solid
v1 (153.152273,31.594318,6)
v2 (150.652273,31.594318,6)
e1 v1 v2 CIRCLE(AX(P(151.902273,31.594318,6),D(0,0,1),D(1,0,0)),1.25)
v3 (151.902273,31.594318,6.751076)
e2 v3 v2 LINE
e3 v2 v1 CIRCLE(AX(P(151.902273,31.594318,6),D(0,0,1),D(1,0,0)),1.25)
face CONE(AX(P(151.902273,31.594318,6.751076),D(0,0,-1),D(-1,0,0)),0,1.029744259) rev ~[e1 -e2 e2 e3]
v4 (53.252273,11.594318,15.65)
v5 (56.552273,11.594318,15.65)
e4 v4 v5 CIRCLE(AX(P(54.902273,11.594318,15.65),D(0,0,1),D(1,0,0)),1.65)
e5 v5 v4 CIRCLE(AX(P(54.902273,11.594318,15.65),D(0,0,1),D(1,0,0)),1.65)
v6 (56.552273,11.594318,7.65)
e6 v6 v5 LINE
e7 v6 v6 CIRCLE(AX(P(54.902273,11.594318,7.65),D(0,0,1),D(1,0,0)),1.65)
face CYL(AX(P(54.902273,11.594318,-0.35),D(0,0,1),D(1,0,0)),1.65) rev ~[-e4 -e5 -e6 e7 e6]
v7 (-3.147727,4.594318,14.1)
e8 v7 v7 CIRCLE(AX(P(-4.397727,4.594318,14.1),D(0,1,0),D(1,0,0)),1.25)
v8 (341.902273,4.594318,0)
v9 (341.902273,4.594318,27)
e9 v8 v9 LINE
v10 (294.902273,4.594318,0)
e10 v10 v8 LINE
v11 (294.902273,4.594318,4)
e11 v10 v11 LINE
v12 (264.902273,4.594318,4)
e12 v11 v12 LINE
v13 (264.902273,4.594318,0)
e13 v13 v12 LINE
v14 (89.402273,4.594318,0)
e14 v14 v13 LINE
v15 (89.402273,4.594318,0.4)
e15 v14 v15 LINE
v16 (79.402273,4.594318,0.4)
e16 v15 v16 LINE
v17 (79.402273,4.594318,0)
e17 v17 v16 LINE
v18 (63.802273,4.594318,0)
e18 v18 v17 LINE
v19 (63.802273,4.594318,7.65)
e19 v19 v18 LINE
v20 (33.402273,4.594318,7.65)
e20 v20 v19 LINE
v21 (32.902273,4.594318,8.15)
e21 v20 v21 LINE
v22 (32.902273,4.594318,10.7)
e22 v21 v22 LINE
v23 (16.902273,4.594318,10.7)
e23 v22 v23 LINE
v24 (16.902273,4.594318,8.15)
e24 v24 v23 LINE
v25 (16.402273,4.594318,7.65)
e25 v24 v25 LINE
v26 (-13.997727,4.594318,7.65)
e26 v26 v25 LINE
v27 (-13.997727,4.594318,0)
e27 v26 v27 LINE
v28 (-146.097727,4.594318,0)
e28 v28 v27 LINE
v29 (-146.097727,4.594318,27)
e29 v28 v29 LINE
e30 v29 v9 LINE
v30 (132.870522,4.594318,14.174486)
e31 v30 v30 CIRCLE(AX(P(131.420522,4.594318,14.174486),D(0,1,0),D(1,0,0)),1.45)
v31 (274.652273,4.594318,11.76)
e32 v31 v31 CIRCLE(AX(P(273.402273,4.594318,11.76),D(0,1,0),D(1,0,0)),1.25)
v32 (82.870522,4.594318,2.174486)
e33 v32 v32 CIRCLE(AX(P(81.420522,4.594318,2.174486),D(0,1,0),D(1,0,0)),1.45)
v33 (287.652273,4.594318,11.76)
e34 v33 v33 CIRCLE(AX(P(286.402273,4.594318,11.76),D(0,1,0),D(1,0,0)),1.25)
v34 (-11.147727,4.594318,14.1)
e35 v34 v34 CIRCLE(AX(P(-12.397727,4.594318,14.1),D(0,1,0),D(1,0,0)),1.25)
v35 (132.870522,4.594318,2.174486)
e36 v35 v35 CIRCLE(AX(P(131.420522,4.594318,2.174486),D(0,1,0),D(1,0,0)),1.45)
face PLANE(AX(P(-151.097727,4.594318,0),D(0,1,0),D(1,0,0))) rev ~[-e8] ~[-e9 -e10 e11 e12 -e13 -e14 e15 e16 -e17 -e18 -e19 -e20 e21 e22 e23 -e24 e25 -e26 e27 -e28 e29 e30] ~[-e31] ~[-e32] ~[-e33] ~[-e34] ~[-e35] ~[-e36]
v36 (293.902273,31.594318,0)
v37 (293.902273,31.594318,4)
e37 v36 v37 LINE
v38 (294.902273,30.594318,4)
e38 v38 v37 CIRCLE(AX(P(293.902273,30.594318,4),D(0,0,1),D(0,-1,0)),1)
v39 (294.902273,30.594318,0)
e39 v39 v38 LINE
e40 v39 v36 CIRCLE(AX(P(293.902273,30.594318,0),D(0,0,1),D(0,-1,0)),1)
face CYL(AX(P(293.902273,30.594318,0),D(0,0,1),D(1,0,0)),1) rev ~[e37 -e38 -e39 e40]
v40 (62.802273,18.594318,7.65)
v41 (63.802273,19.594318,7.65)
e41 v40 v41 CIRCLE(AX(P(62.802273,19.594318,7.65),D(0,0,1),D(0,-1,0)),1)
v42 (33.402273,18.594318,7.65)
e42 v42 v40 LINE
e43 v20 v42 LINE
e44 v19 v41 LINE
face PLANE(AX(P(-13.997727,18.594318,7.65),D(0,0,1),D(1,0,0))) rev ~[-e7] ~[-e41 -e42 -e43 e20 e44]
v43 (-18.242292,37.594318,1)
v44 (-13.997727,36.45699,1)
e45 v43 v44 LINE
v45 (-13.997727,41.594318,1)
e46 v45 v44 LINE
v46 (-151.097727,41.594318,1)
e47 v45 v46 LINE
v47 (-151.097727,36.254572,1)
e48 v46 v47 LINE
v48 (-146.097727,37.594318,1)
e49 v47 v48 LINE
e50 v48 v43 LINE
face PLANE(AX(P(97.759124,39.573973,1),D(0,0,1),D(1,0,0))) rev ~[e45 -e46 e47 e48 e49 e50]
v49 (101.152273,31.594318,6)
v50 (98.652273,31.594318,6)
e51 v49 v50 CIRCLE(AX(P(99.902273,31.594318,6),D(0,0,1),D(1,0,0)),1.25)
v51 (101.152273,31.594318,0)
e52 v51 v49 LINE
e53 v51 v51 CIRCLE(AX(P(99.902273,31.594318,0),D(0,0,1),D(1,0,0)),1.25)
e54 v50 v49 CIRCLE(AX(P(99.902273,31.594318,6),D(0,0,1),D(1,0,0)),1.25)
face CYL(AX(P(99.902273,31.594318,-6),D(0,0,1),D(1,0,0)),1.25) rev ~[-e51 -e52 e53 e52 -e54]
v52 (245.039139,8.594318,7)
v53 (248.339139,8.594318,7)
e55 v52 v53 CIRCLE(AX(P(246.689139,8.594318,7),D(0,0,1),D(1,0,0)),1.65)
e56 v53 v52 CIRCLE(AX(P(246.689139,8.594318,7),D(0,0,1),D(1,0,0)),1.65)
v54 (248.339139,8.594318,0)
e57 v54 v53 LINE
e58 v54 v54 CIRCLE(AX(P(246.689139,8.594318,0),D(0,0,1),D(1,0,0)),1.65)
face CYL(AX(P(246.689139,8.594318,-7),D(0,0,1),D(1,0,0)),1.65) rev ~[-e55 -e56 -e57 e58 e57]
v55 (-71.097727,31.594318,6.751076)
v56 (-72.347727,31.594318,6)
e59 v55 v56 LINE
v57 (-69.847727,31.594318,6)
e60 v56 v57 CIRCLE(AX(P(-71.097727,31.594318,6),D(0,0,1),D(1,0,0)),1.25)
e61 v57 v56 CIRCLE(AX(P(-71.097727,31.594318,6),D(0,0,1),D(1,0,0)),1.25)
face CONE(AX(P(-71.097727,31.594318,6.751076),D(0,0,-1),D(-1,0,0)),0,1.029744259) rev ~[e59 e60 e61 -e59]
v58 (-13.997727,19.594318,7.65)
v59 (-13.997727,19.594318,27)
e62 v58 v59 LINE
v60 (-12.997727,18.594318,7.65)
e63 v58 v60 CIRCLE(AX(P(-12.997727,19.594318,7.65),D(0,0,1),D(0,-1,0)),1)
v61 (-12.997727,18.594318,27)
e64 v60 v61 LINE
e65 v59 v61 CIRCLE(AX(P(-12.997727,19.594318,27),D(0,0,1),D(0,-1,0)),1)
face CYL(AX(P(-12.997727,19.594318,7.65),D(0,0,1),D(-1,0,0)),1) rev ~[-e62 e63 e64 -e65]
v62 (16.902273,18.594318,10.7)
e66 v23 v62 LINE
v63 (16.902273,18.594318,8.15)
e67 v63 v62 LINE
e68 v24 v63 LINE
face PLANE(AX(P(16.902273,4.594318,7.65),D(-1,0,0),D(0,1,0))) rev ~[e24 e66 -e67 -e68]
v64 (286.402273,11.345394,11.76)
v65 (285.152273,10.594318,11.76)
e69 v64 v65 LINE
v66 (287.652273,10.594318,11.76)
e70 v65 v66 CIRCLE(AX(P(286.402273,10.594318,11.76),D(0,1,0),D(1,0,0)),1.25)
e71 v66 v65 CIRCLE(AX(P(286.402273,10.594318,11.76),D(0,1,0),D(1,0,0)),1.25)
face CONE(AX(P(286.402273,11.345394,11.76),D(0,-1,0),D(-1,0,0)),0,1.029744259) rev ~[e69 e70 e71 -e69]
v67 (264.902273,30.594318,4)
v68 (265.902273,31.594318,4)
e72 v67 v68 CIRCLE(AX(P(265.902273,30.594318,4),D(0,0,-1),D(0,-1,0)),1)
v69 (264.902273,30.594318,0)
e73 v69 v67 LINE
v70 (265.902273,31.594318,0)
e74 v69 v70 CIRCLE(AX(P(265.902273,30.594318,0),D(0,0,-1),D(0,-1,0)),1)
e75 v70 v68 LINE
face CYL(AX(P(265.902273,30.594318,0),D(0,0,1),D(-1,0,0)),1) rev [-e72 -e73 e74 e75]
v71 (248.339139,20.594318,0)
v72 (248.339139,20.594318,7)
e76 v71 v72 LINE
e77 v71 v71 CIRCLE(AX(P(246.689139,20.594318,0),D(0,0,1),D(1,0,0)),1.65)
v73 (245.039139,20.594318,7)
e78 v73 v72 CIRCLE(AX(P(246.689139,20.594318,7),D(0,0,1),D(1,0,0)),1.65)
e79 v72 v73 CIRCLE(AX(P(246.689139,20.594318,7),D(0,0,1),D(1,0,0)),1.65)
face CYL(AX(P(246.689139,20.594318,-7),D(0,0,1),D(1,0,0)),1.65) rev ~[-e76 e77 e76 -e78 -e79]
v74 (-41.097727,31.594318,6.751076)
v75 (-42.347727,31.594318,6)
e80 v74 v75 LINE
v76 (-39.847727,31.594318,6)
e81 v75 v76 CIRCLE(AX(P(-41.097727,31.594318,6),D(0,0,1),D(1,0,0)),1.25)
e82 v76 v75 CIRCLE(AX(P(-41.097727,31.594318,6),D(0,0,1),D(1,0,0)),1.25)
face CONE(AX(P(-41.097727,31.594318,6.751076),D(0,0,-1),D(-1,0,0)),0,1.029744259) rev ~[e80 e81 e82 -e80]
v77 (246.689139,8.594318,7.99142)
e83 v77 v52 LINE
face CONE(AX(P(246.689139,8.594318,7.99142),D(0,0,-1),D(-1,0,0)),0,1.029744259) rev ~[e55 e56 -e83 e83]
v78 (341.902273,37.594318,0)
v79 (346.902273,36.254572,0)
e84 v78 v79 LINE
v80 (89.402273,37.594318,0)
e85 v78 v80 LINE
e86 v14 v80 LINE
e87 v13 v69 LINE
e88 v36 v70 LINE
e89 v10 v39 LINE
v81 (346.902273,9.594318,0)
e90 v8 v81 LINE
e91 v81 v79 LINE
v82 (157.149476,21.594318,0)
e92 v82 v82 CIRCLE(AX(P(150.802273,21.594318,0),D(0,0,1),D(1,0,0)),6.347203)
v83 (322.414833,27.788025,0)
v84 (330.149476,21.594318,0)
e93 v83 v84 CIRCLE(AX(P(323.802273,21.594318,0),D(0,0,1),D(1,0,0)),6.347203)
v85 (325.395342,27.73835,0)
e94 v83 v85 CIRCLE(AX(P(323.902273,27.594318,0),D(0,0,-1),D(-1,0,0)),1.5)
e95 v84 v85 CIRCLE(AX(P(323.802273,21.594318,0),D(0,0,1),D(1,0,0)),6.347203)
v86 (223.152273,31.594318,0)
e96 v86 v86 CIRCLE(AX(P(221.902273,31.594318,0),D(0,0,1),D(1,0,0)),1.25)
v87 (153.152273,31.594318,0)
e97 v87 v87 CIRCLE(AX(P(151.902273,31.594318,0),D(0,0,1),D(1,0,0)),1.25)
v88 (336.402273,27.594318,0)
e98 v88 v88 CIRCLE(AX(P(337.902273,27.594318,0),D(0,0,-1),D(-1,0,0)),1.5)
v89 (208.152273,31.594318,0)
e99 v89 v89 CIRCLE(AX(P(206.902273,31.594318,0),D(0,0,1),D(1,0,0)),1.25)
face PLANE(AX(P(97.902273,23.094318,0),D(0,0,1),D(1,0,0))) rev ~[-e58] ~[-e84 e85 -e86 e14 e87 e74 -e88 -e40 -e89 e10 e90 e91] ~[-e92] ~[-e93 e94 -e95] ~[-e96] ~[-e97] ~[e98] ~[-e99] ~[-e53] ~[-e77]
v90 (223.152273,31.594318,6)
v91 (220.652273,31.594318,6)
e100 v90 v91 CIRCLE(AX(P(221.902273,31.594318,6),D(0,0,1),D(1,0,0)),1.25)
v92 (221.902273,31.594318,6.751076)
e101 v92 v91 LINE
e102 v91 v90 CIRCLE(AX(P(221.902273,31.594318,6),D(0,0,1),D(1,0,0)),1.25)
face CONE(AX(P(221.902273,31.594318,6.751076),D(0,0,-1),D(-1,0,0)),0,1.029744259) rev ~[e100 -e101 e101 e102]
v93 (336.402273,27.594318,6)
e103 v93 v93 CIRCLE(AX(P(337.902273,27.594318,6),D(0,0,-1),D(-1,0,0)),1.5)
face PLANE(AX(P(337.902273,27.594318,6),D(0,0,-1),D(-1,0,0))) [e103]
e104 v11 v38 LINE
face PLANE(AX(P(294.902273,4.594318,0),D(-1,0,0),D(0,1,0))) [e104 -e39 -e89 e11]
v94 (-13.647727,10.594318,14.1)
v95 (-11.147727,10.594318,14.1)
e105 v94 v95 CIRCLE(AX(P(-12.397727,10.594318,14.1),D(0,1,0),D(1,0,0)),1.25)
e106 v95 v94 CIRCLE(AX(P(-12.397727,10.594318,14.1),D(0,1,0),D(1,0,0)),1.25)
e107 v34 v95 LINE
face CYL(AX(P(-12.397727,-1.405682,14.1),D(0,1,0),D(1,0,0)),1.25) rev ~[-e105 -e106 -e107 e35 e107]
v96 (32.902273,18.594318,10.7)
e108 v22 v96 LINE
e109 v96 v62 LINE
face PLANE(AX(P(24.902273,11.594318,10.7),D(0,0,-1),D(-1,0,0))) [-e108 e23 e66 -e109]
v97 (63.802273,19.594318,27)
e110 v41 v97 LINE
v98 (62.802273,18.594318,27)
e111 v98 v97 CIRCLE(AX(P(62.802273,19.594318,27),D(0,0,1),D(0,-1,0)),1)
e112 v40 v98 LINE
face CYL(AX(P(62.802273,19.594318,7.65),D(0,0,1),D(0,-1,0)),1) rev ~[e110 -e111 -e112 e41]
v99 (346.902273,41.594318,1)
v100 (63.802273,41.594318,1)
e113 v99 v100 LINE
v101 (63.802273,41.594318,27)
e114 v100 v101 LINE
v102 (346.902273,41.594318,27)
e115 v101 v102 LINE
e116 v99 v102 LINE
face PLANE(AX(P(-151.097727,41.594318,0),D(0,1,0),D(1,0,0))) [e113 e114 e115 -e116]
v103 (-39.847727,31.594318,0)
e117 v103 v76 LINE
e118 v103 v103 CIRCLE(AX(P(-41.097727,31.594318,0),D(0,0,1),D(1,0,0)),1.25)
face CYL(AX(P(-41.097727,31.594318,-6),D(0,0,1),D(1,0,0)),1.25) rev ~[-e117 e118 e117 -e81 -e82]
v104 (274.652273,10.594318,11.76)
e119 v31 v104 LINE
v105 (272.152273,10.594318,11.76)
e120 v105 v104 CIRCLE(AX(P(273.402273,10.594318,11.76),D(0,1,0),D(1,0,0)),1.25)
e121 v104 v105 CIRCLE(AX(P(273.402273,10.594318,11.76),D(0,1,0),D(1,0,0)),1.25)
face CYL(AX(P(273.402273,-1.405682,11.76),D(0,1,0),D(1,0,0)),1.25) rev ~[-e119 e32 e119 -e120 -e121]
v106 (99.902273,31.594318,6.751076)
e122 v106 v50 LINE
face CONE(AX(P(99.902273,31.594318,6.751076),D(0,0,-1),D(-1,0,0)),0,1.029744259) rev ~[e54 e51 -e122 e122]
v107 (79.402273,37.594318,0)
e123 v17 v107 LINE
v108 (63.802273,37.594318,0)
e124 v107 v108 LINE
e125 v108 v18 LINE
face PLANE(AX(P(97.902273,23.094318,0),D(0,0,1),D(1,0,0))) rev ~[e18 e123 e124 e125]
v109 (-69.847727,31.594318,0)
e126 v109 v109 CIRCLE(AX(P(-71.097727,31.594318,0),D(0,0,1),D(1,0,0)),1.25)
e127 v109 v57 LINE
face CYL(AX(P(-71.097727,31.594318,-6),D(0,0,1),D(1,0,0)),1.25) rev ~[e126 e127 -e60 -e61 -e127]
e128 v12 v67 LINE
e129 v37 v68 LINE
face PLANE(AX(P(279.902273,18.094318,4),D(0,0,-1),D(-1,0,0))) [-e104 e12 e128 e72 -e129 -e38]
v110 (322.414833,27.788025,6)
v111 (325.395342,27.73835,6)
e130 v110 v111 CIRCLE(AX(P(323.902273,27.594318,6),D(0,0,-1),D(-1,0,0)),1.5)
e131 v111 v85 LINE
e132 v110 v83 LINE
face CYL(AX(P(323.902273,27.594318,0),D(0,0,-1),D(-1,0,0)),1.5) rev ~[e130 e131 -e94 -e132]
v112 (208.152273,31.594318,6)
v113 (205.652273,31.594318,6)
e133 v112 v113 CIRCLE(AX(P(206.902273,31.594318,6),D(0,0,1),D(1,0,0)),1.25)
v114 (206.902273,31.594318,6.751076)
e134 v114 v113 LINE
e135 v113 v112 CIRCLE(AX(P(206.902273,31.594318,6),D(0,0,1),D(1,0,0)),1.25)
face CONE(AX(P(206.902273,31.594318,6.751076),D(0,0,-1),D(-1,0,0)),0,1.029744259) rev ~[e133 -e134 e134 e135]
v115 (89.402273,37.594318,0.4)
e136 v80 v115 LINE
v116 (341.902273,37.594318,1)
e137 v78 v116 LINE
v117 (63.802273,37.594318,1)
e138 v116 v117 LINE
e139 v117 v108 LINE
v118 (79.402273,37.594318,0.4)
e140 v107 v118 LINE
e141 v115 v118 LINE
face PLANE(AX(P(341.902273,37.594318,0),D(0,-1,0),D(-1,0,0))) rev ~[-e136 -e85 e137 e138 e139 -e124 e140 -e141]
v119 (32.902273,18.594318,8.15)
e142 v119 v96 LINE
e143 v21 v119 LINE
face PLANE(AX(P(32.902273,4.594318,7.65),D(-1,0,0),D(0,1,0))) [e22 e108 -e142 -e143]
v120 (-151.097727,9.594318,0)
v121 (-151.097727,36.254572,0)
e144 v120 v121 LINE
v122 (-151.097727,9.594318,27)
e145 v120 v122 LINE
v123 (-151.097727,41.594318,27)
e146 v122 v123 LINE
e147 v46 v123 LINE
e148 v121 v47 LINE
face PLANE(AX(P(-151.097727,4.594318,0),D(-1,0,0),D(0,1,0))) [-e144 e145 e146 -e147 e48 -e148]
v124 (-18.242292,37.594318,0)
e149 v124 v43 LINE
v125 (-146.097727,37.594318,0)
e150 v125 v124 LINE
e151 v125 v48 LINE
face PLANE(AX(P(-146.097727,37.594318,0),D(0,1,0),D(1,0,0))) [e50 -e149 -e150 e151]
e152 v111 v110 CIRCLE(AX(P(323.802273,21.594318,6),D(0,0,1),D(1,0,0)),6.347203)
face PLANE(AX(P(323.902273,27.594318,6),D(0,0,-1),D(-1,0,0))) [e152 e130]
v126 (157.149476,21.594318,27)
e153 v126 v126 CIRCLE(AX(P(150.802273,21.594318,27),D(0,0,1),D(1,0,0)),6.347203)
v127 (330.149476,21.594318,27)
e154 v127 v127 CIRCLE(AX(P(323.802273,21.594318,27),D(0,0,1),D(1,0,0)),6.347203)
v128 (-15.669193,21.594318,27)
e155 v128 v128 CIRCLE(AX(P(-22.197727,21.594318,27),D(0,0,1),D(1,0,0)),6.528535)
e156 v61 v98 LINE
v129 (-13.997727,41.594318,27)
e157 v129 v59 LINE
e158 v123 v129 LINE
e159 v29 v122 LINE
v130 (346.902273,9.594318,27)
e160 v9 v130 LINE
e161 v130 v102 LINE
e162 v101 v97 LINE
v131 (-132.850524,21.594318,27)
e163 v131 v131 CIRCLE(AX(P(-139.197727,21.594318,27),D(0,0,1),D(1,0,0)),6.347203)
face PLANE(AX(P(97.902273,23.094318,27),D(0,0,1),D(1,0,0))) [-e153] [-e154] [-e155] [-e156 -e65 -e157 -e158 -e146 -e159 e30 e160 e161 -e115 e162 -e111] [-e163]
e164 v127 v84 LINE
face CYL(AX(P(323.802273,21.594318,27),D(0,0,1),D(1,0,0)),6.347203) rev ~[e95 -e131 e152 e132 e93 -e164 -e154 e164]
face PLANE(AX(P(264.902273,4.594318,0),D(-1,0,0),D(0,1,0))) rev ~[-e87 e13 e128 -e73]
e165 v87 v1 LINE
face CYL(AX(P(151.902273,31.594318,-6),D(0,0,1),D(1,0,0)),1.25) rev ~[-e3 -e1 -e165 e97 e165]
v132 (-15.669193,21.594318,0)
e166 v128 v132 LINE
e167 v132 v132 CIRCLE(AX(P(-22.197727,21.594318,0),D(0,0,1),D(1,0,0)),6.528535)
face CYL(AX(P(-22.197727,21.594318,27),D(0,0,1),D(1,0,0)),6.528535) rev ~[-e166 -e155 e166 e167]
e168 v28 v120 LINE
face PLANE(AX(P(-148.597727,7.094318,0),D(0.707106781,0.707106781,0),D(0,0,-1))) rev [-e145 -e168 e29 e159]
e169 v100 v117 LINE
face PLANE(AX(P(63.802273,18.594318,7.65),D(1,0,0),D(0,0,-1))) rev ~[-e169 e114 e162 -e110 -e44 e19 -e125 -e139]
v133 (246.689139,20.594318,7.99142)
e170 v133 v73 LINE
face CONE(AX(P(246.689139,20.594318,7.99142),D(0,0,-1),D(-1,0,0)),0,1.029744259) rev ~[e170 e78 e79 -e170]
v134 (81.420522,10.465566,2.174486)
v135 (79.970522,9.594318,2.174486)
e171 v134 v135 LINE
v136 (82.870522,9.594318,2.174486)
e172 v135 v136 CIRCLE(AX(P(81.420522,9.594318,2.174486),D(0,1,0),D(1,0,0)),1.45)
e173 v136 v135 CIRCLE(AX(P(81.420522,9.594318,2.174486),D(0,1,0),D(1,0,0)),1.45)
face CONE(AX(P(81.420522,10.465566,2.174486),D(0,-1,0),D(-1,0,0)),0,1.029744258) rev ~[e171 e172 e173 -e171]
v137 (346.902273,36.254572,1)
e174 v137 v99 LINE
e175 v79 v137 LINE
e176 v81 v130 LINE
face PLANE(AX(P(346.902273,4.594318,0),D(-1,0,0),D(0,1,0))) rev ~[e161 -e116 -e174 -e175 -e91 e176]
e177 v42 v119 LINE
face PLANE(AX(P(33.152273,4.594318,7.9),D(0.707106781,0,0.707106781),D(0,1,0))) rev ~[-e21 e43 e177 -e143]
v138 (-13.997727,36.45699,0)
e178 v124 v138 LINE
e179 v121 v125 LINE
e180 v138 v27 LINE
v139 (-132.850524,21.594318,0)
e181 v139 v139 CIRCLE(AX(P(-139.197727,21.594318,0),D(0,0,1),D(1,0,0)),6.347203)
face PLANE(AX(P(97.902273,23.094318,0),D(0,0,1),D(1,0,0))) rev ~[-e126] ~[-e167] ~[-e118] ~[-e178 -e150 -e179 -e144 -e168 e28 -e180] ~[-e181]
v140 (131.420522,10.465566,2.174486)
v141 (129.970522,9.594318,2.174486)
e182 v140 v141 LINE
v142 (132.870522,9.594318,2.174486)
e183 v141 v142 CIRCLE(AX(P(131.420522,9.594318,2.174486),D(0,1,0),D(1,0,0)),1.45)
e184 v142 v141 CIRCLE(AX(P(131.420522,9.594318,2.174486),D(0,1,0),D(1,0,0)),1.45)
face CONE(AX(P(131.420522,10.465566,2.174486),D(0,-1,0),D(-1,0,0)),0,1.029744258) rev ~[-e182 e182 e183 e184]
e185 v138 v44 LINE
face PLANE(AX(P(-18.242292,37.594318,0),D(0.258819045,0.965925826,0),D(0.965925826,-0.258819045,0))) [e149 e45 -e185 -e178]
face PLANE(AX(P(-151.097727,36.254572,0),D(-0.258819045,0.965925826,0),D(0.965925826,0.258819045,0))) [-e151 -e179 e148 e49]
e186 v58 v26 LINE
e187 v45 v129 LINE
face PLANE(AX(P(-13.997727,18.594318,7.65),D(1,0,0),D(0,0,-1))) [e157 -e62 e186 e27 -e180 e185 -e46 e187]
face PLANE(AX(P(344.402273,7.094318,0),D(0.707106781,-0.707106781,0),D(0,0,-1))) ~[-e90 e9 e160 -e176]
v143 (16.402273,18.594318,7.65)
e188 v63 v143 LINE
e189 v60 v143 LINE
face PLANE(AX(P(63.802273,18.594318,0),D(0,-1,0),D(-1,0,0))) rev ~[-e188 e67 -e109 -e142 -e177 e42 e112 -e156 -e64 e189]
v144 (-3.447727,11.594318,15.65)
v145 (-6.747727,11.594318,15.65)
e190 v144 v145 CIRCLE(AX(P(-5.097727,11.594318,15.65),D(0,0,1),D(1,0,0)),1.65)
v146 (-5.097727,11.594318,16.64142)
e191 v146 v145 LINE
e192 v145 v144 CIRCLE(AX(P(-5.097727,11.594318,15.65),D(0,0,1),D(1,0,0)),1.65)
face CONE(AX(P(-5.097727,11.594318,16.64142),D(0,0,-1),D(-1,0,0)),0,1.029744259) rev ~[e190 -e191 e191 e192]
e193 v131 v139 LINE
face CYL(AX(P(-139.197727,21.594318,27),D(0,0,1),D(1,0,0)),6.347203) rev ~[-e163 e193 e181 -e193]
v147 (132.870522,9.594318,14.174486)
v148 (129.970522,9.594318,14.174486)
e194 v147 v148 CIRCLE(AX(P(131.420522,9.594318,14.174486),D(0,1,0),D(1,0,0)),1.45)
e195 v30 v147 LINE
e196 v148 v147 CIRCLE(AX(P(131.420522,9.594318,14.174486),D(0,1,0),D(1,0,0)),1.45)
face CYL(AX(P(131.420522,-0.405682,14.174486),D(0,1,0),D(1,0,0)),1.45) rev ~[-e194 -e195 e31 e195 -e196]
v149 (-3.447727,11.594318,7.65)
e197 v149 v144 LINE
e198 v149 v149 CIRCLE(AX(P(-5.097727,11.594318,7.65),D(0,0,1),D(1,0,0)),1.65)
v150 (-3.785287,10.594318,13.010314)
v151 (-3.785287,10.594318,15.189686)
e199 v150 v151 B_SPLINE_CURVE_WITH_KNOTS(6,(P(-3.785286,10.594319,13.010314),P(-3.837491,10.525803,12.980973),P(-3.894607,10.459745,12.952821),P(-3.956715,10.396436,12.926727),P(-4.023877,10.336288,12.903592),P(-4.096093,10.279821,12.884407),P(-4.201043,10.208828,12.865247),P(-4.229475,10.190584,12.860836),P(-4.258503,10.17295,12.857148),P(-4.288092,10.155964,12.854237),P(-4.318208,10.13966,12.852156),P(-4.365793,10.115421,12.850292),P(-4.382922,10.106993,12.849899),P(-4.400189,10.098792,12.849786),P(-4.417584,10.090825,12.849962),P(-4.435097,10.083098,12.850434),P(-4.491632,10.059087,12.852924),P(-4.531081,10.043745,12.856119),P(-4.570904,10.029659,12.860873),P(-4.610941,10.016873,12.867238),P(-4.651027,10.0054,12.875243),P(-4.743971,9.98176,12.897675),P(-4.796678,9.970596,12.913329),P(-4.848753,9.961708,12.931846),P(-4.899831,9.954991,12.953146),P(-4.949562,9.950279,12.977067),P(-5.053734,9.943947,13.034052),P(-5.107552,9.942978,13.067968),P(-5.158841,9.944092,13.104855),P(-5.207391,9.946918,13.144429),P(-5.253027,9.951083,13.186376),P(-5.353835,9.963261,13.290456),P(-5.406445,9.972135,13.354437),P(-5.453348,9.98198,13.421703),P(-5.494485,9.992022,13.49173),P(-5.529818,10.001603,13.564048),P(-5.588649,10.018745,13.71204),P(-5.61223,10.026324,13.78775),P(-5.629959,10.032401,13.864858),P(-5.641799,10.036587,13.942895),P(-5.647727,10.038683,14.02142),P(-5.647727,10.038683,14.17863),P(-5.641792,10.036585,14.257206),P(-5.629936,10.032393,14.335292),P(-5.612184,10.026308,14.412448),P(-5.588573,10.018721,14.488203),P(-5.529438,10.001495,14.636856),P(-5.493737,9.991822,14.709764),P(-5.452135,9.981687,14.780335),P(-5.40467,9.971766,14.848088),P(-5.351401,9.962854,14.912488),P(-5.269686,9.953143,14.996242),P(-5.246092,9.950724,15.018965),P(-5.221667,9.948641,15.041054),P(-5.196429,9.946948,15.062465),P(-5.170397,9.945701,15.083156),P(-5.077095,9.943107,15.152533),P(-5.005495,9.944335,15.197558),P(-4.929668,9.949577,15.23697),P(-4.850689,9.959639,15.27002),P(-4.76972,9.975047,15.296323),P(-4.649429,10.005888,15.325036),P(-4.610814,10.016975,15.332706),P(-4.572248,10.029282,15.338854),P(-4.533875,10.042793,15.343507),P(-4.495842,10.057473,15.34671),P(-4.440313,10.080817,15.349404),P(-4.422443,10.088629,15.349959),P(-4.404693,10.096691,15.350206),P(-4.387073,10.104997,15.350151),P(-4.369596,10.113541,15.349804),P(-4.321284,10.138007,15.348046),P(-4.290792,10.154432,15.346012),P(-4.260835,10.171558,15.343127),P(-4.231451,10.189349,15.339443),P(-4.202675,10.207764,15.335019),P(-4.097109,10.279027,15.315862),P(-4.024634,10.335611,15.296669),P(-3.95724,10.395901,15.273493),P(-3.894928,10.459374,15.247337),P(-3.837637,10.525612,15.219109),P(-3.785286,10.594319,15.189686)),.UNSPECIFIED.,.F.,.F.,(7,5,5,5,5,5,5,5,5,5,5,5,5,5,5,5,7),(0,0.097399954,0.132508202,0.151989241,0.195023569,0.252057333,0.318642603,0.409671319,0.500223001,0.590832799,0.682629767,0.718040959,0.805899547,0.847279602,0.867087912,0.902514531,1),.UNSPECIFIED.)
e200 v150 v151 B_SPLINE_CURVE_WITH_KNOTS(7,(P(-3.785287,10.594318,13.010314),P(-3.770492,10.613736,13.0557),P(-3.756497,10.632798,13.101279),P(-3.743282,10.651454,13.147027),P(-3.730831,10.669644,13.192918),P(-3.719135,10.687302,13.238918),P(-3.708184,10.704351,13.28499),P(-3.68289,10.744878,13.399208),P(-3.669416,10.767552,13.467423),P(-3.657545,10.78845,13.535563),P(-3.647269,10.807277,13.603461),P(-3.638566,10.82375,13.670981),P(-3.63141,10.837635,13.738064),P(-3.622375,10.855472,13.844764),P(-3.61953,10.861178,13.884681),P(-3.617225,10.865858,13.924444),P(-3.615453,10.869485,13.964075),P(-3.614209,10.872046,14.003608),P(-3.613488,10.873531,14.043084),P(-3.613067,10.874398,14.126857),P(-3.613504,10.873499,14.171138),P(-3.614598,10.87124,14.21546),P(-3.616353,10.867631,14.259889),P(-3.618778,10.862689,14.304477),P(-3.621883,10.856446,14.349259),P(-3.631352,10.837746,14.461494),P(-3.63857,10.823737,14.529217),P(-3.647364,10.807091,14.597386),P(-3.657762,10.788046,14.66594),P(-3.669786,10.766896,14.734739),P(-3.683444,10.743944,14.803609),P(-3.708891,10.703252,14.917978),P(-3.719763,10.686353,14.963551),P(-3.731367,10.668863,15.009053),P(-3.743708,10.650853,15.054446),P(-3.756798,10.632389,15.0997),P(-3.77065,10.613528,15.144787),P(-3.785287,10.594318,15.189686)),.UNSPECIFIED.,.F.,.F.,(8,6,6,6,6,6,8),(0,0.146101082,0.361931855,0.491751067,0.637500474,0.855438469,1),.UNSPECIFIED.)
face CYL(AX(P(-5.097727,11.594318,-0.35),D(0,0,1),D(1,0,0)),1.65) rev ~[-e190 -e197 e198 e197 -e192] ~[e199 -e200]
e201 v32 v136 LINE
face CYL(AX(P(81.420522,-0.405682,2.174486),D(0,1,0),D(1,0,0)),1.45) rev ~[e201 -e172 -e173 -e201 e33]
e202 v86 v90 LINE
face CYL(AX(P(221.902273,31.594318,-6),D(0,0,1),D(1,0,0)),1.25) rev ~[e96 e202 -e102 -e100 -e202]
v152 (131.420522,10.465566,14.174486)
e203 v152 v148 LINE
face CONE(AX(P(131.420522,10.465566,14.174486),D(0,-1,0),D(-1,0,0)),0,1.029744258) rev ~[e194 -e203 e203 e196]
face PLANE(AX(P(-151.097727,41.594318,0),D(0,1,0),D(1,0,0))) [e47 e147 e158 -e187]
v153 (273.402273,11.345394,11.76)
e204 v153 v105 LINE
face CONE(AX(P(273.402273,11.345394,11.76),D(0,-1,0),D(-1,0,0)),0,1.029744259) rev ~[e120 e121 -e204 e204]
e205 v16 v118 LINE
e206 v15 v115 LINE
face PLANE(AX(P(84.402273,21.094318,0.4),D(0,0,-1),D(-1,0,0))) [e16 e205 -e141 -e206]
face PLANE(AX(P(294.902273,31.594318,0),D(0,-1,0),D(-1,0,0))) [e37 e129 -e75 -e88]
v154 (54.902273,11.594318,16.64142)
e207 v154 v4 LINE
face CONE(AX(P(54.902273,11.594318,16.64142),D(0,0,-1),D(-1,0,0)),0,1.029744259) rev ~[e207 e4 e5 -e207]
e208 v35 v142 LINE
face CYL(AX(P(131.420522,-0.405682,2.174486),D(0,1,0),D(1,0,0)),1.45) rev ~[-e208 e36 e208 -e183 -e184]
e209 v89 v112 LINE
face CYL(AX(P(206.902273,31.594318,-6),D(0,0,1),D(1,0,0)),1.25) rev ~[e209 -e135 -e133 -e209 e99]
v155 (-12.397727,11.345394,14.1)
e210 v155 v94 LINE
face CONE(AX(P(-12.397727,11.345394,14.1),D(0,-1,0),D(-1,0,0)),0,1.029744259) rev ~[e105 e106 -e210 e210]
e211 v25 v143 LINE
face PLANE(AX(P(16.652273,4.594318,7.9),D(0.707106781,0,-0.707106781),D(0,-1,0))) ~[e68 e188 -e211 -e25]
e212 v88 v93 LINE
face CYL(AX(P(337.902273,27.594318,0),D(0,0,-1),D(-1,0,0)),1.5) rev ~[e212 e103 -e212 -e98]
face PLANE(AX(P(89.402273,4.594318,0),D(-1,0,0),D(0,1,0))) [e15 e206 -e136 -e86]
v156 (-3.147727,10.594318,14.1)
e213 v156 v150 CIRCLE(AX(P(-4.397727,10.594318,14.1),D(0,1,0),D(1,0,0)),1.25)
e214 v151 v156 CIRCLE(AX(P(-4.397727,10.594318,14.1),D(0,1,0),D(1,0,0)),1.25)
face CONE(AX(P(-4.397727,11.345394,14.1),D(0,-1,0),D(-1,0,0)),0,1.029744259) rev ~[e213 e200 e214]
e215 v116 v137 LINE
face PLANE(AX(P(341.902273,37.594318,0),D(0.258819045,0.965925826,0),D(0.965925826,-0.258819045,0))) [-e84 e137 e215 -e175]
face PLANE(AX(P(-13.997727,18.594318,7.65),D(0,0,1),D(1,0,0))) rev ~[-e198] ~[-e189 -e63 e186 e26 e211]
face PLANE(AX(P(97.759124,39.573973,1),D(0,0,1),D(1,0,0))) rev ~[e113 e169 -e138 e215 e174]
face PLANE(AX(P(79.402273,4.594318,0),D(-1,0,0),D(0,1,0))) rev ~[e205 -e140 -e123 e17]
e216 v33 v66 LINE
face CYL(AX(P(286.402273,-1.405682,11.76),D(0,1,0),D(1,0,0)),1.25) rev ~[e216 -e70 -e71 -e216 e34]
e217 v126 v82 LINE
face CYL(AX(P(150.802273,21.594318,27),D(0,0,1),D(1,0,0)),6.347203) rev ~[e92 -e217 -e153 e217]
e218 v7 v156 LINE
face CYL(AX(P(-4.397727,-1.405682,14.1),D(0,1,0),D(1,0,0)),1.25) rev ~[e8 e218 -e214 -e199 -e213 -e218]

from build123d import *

# Parameters (mm, degrees)
SKETCH1_W               = 498
SKETCH1_H               = 37
BOSS_EXTRUDE1_DEPTH     = 27
SKETCH3_W               = 30
SKETCH3_H               = 27
CUT_EXTRUDE2_DEPTH      = 4
SKETCH4_W               = 77.8
SKETCH4_H               = 23
CUT_EXTRUDE3_DEPTH      = 28
SKETCH5_W               = 77.8
SKETCH5_H               = 7.65
CUT_EXTRUDE4_DEPTH      = 15
SKETCH6_W               = 16
SKETCH6_H               = 14
CUT_EXTRUDE5_DEPTH      = 3.05
CUT_EXTRUDE6_DEPTH      = 1
M3_TAPPED_HOLE1_D       = 2.5
M3_TAPPED_HOLE1_DEPTH   = 6
M3_TAPPED_HOLE1_TIP     = 0.751075774
M4_TAPPED_HOLE1_D       = 3.3
M4_TAPPED_HOLE1_DEPTH   = 8
M4_TAPPED_HOLE1_TIP     = 0.991420021
M3_TAPPED_HOLE2_D       = 2.5
M3_TAPPED_HOLE2_DEPTH   = 6
M3_TAPPED_HOLE2_TIP     = 0.751075774
M3_TAPPED_HOLE3_D       = 2.5
M3_TAPPED_HOLE3_DEPTH   = 6
M3_TAPPED_HOLE3_TIP     = 0.751075774
SKETCH16_W              = 10
SKETCH16_H              = 33
CUT_EXTRUDE7_DEPTH      = 0.4
FILLET1_R               = 1
CHAMFER1_SIZE           = 0.5
FILLET2_R               = 1
CHAMFER2_SIZE           = 5
SKETCH17_R              = 1.5
CUT_EXTRUDE8_DEPTH      = 6
SKETCH19_R              = 6.347203473
SKETCH19_R_2            = 6.528534634
CUT_EXTRUDE9_DEPTH      = 28
M3_5_TAPPED_HOLE1_D     = 2.9
M3_5_TAPPED_HOLE1_DEPTH = 5
M3_5_TAPPED_HOLE1_TIP   = 0.871247898
M4_TAPPED_HOLE3_D       = 3.3
M4_TAPPED_HOLE3_DEPTH   = 7
M4_TAPPED_HOLE3_TIP     = 0.991420021


with BuildPart() as part:
    # Sketch1 → Boss-Extrude1 (new body)
    with BuildSketch(Plane.XY):
        with Locations((97.902272727, 23.094318182)):
            Rectangle(SKETCH1_W, SKETCH1_H)
    extrude(amount=BOSS_EXTRUDE1_DEPTH)

    # Sketch3 → Cut-Extrude2 (cut)
    with BuildSketch(Plane(origin=(0, 0, 0), x_dir=(-1, 0, 0), z_dir=(0, 0, -1))):
        with Locations((-279.902272727, 18.094318182)):
            Rectangle(SKETCH3_W, SKETCH3_H)
    extrude(amount=-CUT_EXTRUDE2_DEPTH, mode=Mode.SUBTRACT)

    # Sketch4 → Cut-Extrude3 (cut, through all)
    with BuildSketch(Plane(origin=(0, 0, 0), x_dir=(-1, 0, 0), z_dir=(0, 0, -1))):
        with Locations((-24.902272727, 30.094318182)):
            Rectangle(SKETCH4_W, SKETCH4_H)
    extrude(amount=-CUT_EXTRUDE3_DEPTH, mode=Mode.SUBTRACT)

    # Sketch5 → Cut-Extrude4 (cut, through all)
    with BuildSketch(Plane(origin=(0, 18.594318182, 0), x_dir=(1, 0, 0), z_dir=(0, 1, 0))):
        with Locations((24.902272727, -3.825)):
            Rectangle(SKETCH5_W, SKETCH5_H)
    extrude(amount=-CUT_EXTRUDE4_DEPTH, mode=Mode.SUBTRACT)

    # Sketch6 → Cut-Extrude5 (cut)
    with BuildSketch(Plane(origin=(0, 0, 7.65), x_dir=(-1, 0, 0), z_dir=(0, 0, -1))):
        with Locations((-24.902272727, 11.594318182)):
            Rectangle(SKETCH6_W, SKETCH6_H)
    extrude(amount=-CUT_EXTRUDE5_DEPTH, mode=Mode.SUBTRACT)

    # Sketch7 → Cut-Extrude6 (cut)
    with BuildSketch(Plane(origin=(0, 0, 0), x_dir=(-1, 0, 0), z_dir=(0, 0, -1))):
        Polygon((151.097727273, 36.25457222), (146.097727273, 37.594318182), (18.242292409, 37.594318182), (13.997727273, 36.456990381), (13.997727273, 37.594318182), (-63.802272727, 37.594318182), (-341.902272727, 37.594318182), (-346.902272727, 36.25457222), (-346.902272727, 41.594318182), (151.097727273, 41.594318182), align=None)
    extrude(amount=-CUT_EXTRUDE6_DEPTH, mode=Mode.SUBTRACT)

    # M3 Tapped Hole1
    with Locations(Plane(origin=(0, 4.594318182, 0), x_dir=(-1, 0, 0), z_dir=(0, -1, 0))):
        with Locations((-286.402272727, -11.76), (-273.402272727, -11.76)):
            Hole(M3_TAPPED_HOLE1_D / 2, depth=M3_TAPPED_HOLE1_DEPTH)
            with Locations((0, 0, -(M3_TAPPED_HOLE1_DEPTH + M3_TAPPED_HOLE1_TIP / 2))):  # 118° drill point
                Cone(0, M3_TAPPED_HOLE1_D / 2, M3_TAPPED_HOLE1_TIP, mode=Mode.SUBTRACT)

    # M4 Tapped Hole1
    with Locations(Plane(origin=(0, 0, 7.65), x_dir=(-1, 0, 0), z_dir=(0, 0, -1))):
        with Locations((5.097727273, 11.594318182), (-54.902272727, 11.594318182)):
            Hole(M4_TAPPED_HOLE1_D / 2, depth=M4_TAPPED_HOLE1_DEPTH)
            with Locations((0, 0, -(M4_TAPPED_HOLE1_DEPTH + M4_TAPPED_HOLE1_TIP / 2))):  # 118° drill point
                Cone(0, M4_TAPPED_HOLE1_D / 2, M4_TAPPED_HOLE1_TIP, mode=Mode.SUBTRACT)

    # M3 Tapped Hole2
    with Locations(Plane(origin=(0, 0, 0), x_dir=(-1, 0, 0), z_dir=(0, 0, -1))):
        with Locations((71.097727273, 31.594318182), (41.097727273, 31.594318182), (-99.902272727, 31.594318182), (-151.902272727, 31.594318182), (-206.902272727, 31.594318182), (-221.902272727, 31.594318182), (-354.592417471, -112.457729383)):
            Hole(M3_TAPPED_HOLE2_D / 2, depth=M3_TAPPED_HOLE2_DEPTH)
            with Locations((0, 0, -(M3_TAPPED_HOLE2_DEPTH + M3_TAPPED_HOLE2_TIP / 2))):  # 118° drill point
                Cone(0, M3_TAPPED_HOLE2_D / 2, M3_TAPPED_HOLE2_TIP, mode=Mode.SUBTRACT)

    # M3 Tapped Hole3
    with Locations(Plane(origin=(0, 4.594318182, 0), x_dir=(-1, 0, 0), z_dir=(0, -1, 0))):
        with Locations((12.397727273, -14.1), (4.397727273, -14.1)):
            Hole(M3_TAPPED_HOLE3_D / 2, depth=M3_TAPPED_HOLE3_DEPTH)
            with Locations((0, 0, -(M3_TAPPED_HOLE3_DEPTH + M3_TAPPED_HOLE3_TIP / 2))):  # 118° drill point
                Cone(0, M3_TAPPED_HOLE3_D / 2, M3_TAPPED_HOLE3_TIP, mode=Mode.SUBTRACT)

    # Sketch16 → Cut-Extrude7 (cut)
    with BuildSketch(Plane(origin=(0, 0, 0), x_dir=(-1, 0, 0), z_dir=(0, 0, -1))):
        with Locations((-84.402272727, 21.094318182)):
            Rectangle(SKETCH16_W, SKETCH16_H)
    extrude(amount=-CUT_EXTRUDE7_DEPTH, mode=Mode.SUBTRACT)

    # Fillet1
    fillet1_edges = [part.edges().sort_by_distance(p)[0] for p in [
        (-13.997727273, 18.594318182, 17.325),
        (63.802272727, 18.594318182, 17.325),
    ]]
    fillet(fillet1_edges, radius=FILLET1_R)

    # Chamfer1
    chamfer1_edges = [part.edges().sort_by_distance(p)[0] for p in [
        (16.902272727, 11.594318182, 7.65),
        (32.902272727, 11.594318182, 7.65),
    ]]
    chamfer(chamfer1_edges, length=CHAMFER1_SIZE)

    # Fillet2
    fillet2_edges = [part.edges().sort_by_distance(p)[0] for p in [
        (264.902272727, 31.594318182, 2),
        (294.902272727, 31.594318182, 2),
    ]]
    fillet(fillet2_edges, radius=FILLET2_R)

    # Chamfer2
    chamfer2_edges = [part.edges().sort_by_distance(p)[0] for p in [
        (346.902272727, 4.594318182, 13.5),
        (-151.097727273, 4.594318182, 13.5),
    ]]
    chamfer(chamfer2_edges, length=CHAMFER2_SIZE)

    # Sketch17 → Cut-Extrude8 (cut)
    with BuildSketch(Plane(origin=(0, 0, 0), x_dir=(-1, 0, 0), z_dir=(0, 0, -1))):
        with Locations((-323.902272727, 27.594318182)):
            Circle(SKETCH17_R)
        with Locations((-337.902272727, 27.594318182)):
            Circle(SKETCH17_R)
    extrude(amount=-CUT_EXTRUDE8_DEPTH, mode=Mode.SUBTRACT)

    # Sketch19 → Cut-Extrude9 (cut, through all)
    with BuildSketch(Plane.XY.offset(27)):
        with Locations((-139.197727273, 21.594318182)):
            Circle(SKETCH19_R)
        with Locations((-22.197727273, 21.594318182)):
            Circle(SKETCH19_R_2)
        with Locations((150.802272727, 21.594318182)):
            Circle(SKETCH19_R)
        with Locations((323.802272727, 21.594318182)):
            Circle(SKETCH19_R)
    extrude(amount=-CUT_EXTRUDE9_DEPTH, mode=Mode.SUBTRACT)

    # M3.5 Tapped Hole1
    with Locations(Plane(origin=(0, 4.594318182, 0), x_dir=(-1, 0, 0), z_dir=(0, -1, 0))):
        with Locations((-131.42052192, -2.174485534), (-131.42052192, -14.174485534), (-81.42052192, -2.174485534)):
            Hole(M3_5_TAPPED_HOLE1_D / 2, depth=M3_5_TAPPED_HOLE1_DEPTH)
            with Locations((0, 0, -(M3_5_TAPPED_HOLE1_DEPTH + M3_5_TAPPED_HOLE1_TIP / 2))):  # 118° drill point
                Cone(0, M3_5_TAPPED_HOLE1_D / 2, M3_5_TAPPED_HOLE1_TIP, mode=Mode.SUBTRACT)

    # M4 Tapped Hole3
    with Locations(Plane(origin=(0, 0, 0), x_dir=(-1, 0, 0), z_dir=(0, 0, -1))):
        with Locations((-246.689139378, 8.594318182), (-246.689139378, 20.594318182)):
            Hole(M4_TAPPED_HOLE3_D / 2, depth=M4_TAPPED_HOLE3_DEPTH)
            with Locations((0, 0, -(M4_TAPPED_HOLE3_DEPTH + M4_TAPPED_HOLE3_TIP / 2))):  # 118° drill point
                Cone(0, M4_TAPPED_HOLE3_D / 2, M4_TAPPED_HOLE3_TIP, mode=Mode.SUBTRACT)


solid = part.part
